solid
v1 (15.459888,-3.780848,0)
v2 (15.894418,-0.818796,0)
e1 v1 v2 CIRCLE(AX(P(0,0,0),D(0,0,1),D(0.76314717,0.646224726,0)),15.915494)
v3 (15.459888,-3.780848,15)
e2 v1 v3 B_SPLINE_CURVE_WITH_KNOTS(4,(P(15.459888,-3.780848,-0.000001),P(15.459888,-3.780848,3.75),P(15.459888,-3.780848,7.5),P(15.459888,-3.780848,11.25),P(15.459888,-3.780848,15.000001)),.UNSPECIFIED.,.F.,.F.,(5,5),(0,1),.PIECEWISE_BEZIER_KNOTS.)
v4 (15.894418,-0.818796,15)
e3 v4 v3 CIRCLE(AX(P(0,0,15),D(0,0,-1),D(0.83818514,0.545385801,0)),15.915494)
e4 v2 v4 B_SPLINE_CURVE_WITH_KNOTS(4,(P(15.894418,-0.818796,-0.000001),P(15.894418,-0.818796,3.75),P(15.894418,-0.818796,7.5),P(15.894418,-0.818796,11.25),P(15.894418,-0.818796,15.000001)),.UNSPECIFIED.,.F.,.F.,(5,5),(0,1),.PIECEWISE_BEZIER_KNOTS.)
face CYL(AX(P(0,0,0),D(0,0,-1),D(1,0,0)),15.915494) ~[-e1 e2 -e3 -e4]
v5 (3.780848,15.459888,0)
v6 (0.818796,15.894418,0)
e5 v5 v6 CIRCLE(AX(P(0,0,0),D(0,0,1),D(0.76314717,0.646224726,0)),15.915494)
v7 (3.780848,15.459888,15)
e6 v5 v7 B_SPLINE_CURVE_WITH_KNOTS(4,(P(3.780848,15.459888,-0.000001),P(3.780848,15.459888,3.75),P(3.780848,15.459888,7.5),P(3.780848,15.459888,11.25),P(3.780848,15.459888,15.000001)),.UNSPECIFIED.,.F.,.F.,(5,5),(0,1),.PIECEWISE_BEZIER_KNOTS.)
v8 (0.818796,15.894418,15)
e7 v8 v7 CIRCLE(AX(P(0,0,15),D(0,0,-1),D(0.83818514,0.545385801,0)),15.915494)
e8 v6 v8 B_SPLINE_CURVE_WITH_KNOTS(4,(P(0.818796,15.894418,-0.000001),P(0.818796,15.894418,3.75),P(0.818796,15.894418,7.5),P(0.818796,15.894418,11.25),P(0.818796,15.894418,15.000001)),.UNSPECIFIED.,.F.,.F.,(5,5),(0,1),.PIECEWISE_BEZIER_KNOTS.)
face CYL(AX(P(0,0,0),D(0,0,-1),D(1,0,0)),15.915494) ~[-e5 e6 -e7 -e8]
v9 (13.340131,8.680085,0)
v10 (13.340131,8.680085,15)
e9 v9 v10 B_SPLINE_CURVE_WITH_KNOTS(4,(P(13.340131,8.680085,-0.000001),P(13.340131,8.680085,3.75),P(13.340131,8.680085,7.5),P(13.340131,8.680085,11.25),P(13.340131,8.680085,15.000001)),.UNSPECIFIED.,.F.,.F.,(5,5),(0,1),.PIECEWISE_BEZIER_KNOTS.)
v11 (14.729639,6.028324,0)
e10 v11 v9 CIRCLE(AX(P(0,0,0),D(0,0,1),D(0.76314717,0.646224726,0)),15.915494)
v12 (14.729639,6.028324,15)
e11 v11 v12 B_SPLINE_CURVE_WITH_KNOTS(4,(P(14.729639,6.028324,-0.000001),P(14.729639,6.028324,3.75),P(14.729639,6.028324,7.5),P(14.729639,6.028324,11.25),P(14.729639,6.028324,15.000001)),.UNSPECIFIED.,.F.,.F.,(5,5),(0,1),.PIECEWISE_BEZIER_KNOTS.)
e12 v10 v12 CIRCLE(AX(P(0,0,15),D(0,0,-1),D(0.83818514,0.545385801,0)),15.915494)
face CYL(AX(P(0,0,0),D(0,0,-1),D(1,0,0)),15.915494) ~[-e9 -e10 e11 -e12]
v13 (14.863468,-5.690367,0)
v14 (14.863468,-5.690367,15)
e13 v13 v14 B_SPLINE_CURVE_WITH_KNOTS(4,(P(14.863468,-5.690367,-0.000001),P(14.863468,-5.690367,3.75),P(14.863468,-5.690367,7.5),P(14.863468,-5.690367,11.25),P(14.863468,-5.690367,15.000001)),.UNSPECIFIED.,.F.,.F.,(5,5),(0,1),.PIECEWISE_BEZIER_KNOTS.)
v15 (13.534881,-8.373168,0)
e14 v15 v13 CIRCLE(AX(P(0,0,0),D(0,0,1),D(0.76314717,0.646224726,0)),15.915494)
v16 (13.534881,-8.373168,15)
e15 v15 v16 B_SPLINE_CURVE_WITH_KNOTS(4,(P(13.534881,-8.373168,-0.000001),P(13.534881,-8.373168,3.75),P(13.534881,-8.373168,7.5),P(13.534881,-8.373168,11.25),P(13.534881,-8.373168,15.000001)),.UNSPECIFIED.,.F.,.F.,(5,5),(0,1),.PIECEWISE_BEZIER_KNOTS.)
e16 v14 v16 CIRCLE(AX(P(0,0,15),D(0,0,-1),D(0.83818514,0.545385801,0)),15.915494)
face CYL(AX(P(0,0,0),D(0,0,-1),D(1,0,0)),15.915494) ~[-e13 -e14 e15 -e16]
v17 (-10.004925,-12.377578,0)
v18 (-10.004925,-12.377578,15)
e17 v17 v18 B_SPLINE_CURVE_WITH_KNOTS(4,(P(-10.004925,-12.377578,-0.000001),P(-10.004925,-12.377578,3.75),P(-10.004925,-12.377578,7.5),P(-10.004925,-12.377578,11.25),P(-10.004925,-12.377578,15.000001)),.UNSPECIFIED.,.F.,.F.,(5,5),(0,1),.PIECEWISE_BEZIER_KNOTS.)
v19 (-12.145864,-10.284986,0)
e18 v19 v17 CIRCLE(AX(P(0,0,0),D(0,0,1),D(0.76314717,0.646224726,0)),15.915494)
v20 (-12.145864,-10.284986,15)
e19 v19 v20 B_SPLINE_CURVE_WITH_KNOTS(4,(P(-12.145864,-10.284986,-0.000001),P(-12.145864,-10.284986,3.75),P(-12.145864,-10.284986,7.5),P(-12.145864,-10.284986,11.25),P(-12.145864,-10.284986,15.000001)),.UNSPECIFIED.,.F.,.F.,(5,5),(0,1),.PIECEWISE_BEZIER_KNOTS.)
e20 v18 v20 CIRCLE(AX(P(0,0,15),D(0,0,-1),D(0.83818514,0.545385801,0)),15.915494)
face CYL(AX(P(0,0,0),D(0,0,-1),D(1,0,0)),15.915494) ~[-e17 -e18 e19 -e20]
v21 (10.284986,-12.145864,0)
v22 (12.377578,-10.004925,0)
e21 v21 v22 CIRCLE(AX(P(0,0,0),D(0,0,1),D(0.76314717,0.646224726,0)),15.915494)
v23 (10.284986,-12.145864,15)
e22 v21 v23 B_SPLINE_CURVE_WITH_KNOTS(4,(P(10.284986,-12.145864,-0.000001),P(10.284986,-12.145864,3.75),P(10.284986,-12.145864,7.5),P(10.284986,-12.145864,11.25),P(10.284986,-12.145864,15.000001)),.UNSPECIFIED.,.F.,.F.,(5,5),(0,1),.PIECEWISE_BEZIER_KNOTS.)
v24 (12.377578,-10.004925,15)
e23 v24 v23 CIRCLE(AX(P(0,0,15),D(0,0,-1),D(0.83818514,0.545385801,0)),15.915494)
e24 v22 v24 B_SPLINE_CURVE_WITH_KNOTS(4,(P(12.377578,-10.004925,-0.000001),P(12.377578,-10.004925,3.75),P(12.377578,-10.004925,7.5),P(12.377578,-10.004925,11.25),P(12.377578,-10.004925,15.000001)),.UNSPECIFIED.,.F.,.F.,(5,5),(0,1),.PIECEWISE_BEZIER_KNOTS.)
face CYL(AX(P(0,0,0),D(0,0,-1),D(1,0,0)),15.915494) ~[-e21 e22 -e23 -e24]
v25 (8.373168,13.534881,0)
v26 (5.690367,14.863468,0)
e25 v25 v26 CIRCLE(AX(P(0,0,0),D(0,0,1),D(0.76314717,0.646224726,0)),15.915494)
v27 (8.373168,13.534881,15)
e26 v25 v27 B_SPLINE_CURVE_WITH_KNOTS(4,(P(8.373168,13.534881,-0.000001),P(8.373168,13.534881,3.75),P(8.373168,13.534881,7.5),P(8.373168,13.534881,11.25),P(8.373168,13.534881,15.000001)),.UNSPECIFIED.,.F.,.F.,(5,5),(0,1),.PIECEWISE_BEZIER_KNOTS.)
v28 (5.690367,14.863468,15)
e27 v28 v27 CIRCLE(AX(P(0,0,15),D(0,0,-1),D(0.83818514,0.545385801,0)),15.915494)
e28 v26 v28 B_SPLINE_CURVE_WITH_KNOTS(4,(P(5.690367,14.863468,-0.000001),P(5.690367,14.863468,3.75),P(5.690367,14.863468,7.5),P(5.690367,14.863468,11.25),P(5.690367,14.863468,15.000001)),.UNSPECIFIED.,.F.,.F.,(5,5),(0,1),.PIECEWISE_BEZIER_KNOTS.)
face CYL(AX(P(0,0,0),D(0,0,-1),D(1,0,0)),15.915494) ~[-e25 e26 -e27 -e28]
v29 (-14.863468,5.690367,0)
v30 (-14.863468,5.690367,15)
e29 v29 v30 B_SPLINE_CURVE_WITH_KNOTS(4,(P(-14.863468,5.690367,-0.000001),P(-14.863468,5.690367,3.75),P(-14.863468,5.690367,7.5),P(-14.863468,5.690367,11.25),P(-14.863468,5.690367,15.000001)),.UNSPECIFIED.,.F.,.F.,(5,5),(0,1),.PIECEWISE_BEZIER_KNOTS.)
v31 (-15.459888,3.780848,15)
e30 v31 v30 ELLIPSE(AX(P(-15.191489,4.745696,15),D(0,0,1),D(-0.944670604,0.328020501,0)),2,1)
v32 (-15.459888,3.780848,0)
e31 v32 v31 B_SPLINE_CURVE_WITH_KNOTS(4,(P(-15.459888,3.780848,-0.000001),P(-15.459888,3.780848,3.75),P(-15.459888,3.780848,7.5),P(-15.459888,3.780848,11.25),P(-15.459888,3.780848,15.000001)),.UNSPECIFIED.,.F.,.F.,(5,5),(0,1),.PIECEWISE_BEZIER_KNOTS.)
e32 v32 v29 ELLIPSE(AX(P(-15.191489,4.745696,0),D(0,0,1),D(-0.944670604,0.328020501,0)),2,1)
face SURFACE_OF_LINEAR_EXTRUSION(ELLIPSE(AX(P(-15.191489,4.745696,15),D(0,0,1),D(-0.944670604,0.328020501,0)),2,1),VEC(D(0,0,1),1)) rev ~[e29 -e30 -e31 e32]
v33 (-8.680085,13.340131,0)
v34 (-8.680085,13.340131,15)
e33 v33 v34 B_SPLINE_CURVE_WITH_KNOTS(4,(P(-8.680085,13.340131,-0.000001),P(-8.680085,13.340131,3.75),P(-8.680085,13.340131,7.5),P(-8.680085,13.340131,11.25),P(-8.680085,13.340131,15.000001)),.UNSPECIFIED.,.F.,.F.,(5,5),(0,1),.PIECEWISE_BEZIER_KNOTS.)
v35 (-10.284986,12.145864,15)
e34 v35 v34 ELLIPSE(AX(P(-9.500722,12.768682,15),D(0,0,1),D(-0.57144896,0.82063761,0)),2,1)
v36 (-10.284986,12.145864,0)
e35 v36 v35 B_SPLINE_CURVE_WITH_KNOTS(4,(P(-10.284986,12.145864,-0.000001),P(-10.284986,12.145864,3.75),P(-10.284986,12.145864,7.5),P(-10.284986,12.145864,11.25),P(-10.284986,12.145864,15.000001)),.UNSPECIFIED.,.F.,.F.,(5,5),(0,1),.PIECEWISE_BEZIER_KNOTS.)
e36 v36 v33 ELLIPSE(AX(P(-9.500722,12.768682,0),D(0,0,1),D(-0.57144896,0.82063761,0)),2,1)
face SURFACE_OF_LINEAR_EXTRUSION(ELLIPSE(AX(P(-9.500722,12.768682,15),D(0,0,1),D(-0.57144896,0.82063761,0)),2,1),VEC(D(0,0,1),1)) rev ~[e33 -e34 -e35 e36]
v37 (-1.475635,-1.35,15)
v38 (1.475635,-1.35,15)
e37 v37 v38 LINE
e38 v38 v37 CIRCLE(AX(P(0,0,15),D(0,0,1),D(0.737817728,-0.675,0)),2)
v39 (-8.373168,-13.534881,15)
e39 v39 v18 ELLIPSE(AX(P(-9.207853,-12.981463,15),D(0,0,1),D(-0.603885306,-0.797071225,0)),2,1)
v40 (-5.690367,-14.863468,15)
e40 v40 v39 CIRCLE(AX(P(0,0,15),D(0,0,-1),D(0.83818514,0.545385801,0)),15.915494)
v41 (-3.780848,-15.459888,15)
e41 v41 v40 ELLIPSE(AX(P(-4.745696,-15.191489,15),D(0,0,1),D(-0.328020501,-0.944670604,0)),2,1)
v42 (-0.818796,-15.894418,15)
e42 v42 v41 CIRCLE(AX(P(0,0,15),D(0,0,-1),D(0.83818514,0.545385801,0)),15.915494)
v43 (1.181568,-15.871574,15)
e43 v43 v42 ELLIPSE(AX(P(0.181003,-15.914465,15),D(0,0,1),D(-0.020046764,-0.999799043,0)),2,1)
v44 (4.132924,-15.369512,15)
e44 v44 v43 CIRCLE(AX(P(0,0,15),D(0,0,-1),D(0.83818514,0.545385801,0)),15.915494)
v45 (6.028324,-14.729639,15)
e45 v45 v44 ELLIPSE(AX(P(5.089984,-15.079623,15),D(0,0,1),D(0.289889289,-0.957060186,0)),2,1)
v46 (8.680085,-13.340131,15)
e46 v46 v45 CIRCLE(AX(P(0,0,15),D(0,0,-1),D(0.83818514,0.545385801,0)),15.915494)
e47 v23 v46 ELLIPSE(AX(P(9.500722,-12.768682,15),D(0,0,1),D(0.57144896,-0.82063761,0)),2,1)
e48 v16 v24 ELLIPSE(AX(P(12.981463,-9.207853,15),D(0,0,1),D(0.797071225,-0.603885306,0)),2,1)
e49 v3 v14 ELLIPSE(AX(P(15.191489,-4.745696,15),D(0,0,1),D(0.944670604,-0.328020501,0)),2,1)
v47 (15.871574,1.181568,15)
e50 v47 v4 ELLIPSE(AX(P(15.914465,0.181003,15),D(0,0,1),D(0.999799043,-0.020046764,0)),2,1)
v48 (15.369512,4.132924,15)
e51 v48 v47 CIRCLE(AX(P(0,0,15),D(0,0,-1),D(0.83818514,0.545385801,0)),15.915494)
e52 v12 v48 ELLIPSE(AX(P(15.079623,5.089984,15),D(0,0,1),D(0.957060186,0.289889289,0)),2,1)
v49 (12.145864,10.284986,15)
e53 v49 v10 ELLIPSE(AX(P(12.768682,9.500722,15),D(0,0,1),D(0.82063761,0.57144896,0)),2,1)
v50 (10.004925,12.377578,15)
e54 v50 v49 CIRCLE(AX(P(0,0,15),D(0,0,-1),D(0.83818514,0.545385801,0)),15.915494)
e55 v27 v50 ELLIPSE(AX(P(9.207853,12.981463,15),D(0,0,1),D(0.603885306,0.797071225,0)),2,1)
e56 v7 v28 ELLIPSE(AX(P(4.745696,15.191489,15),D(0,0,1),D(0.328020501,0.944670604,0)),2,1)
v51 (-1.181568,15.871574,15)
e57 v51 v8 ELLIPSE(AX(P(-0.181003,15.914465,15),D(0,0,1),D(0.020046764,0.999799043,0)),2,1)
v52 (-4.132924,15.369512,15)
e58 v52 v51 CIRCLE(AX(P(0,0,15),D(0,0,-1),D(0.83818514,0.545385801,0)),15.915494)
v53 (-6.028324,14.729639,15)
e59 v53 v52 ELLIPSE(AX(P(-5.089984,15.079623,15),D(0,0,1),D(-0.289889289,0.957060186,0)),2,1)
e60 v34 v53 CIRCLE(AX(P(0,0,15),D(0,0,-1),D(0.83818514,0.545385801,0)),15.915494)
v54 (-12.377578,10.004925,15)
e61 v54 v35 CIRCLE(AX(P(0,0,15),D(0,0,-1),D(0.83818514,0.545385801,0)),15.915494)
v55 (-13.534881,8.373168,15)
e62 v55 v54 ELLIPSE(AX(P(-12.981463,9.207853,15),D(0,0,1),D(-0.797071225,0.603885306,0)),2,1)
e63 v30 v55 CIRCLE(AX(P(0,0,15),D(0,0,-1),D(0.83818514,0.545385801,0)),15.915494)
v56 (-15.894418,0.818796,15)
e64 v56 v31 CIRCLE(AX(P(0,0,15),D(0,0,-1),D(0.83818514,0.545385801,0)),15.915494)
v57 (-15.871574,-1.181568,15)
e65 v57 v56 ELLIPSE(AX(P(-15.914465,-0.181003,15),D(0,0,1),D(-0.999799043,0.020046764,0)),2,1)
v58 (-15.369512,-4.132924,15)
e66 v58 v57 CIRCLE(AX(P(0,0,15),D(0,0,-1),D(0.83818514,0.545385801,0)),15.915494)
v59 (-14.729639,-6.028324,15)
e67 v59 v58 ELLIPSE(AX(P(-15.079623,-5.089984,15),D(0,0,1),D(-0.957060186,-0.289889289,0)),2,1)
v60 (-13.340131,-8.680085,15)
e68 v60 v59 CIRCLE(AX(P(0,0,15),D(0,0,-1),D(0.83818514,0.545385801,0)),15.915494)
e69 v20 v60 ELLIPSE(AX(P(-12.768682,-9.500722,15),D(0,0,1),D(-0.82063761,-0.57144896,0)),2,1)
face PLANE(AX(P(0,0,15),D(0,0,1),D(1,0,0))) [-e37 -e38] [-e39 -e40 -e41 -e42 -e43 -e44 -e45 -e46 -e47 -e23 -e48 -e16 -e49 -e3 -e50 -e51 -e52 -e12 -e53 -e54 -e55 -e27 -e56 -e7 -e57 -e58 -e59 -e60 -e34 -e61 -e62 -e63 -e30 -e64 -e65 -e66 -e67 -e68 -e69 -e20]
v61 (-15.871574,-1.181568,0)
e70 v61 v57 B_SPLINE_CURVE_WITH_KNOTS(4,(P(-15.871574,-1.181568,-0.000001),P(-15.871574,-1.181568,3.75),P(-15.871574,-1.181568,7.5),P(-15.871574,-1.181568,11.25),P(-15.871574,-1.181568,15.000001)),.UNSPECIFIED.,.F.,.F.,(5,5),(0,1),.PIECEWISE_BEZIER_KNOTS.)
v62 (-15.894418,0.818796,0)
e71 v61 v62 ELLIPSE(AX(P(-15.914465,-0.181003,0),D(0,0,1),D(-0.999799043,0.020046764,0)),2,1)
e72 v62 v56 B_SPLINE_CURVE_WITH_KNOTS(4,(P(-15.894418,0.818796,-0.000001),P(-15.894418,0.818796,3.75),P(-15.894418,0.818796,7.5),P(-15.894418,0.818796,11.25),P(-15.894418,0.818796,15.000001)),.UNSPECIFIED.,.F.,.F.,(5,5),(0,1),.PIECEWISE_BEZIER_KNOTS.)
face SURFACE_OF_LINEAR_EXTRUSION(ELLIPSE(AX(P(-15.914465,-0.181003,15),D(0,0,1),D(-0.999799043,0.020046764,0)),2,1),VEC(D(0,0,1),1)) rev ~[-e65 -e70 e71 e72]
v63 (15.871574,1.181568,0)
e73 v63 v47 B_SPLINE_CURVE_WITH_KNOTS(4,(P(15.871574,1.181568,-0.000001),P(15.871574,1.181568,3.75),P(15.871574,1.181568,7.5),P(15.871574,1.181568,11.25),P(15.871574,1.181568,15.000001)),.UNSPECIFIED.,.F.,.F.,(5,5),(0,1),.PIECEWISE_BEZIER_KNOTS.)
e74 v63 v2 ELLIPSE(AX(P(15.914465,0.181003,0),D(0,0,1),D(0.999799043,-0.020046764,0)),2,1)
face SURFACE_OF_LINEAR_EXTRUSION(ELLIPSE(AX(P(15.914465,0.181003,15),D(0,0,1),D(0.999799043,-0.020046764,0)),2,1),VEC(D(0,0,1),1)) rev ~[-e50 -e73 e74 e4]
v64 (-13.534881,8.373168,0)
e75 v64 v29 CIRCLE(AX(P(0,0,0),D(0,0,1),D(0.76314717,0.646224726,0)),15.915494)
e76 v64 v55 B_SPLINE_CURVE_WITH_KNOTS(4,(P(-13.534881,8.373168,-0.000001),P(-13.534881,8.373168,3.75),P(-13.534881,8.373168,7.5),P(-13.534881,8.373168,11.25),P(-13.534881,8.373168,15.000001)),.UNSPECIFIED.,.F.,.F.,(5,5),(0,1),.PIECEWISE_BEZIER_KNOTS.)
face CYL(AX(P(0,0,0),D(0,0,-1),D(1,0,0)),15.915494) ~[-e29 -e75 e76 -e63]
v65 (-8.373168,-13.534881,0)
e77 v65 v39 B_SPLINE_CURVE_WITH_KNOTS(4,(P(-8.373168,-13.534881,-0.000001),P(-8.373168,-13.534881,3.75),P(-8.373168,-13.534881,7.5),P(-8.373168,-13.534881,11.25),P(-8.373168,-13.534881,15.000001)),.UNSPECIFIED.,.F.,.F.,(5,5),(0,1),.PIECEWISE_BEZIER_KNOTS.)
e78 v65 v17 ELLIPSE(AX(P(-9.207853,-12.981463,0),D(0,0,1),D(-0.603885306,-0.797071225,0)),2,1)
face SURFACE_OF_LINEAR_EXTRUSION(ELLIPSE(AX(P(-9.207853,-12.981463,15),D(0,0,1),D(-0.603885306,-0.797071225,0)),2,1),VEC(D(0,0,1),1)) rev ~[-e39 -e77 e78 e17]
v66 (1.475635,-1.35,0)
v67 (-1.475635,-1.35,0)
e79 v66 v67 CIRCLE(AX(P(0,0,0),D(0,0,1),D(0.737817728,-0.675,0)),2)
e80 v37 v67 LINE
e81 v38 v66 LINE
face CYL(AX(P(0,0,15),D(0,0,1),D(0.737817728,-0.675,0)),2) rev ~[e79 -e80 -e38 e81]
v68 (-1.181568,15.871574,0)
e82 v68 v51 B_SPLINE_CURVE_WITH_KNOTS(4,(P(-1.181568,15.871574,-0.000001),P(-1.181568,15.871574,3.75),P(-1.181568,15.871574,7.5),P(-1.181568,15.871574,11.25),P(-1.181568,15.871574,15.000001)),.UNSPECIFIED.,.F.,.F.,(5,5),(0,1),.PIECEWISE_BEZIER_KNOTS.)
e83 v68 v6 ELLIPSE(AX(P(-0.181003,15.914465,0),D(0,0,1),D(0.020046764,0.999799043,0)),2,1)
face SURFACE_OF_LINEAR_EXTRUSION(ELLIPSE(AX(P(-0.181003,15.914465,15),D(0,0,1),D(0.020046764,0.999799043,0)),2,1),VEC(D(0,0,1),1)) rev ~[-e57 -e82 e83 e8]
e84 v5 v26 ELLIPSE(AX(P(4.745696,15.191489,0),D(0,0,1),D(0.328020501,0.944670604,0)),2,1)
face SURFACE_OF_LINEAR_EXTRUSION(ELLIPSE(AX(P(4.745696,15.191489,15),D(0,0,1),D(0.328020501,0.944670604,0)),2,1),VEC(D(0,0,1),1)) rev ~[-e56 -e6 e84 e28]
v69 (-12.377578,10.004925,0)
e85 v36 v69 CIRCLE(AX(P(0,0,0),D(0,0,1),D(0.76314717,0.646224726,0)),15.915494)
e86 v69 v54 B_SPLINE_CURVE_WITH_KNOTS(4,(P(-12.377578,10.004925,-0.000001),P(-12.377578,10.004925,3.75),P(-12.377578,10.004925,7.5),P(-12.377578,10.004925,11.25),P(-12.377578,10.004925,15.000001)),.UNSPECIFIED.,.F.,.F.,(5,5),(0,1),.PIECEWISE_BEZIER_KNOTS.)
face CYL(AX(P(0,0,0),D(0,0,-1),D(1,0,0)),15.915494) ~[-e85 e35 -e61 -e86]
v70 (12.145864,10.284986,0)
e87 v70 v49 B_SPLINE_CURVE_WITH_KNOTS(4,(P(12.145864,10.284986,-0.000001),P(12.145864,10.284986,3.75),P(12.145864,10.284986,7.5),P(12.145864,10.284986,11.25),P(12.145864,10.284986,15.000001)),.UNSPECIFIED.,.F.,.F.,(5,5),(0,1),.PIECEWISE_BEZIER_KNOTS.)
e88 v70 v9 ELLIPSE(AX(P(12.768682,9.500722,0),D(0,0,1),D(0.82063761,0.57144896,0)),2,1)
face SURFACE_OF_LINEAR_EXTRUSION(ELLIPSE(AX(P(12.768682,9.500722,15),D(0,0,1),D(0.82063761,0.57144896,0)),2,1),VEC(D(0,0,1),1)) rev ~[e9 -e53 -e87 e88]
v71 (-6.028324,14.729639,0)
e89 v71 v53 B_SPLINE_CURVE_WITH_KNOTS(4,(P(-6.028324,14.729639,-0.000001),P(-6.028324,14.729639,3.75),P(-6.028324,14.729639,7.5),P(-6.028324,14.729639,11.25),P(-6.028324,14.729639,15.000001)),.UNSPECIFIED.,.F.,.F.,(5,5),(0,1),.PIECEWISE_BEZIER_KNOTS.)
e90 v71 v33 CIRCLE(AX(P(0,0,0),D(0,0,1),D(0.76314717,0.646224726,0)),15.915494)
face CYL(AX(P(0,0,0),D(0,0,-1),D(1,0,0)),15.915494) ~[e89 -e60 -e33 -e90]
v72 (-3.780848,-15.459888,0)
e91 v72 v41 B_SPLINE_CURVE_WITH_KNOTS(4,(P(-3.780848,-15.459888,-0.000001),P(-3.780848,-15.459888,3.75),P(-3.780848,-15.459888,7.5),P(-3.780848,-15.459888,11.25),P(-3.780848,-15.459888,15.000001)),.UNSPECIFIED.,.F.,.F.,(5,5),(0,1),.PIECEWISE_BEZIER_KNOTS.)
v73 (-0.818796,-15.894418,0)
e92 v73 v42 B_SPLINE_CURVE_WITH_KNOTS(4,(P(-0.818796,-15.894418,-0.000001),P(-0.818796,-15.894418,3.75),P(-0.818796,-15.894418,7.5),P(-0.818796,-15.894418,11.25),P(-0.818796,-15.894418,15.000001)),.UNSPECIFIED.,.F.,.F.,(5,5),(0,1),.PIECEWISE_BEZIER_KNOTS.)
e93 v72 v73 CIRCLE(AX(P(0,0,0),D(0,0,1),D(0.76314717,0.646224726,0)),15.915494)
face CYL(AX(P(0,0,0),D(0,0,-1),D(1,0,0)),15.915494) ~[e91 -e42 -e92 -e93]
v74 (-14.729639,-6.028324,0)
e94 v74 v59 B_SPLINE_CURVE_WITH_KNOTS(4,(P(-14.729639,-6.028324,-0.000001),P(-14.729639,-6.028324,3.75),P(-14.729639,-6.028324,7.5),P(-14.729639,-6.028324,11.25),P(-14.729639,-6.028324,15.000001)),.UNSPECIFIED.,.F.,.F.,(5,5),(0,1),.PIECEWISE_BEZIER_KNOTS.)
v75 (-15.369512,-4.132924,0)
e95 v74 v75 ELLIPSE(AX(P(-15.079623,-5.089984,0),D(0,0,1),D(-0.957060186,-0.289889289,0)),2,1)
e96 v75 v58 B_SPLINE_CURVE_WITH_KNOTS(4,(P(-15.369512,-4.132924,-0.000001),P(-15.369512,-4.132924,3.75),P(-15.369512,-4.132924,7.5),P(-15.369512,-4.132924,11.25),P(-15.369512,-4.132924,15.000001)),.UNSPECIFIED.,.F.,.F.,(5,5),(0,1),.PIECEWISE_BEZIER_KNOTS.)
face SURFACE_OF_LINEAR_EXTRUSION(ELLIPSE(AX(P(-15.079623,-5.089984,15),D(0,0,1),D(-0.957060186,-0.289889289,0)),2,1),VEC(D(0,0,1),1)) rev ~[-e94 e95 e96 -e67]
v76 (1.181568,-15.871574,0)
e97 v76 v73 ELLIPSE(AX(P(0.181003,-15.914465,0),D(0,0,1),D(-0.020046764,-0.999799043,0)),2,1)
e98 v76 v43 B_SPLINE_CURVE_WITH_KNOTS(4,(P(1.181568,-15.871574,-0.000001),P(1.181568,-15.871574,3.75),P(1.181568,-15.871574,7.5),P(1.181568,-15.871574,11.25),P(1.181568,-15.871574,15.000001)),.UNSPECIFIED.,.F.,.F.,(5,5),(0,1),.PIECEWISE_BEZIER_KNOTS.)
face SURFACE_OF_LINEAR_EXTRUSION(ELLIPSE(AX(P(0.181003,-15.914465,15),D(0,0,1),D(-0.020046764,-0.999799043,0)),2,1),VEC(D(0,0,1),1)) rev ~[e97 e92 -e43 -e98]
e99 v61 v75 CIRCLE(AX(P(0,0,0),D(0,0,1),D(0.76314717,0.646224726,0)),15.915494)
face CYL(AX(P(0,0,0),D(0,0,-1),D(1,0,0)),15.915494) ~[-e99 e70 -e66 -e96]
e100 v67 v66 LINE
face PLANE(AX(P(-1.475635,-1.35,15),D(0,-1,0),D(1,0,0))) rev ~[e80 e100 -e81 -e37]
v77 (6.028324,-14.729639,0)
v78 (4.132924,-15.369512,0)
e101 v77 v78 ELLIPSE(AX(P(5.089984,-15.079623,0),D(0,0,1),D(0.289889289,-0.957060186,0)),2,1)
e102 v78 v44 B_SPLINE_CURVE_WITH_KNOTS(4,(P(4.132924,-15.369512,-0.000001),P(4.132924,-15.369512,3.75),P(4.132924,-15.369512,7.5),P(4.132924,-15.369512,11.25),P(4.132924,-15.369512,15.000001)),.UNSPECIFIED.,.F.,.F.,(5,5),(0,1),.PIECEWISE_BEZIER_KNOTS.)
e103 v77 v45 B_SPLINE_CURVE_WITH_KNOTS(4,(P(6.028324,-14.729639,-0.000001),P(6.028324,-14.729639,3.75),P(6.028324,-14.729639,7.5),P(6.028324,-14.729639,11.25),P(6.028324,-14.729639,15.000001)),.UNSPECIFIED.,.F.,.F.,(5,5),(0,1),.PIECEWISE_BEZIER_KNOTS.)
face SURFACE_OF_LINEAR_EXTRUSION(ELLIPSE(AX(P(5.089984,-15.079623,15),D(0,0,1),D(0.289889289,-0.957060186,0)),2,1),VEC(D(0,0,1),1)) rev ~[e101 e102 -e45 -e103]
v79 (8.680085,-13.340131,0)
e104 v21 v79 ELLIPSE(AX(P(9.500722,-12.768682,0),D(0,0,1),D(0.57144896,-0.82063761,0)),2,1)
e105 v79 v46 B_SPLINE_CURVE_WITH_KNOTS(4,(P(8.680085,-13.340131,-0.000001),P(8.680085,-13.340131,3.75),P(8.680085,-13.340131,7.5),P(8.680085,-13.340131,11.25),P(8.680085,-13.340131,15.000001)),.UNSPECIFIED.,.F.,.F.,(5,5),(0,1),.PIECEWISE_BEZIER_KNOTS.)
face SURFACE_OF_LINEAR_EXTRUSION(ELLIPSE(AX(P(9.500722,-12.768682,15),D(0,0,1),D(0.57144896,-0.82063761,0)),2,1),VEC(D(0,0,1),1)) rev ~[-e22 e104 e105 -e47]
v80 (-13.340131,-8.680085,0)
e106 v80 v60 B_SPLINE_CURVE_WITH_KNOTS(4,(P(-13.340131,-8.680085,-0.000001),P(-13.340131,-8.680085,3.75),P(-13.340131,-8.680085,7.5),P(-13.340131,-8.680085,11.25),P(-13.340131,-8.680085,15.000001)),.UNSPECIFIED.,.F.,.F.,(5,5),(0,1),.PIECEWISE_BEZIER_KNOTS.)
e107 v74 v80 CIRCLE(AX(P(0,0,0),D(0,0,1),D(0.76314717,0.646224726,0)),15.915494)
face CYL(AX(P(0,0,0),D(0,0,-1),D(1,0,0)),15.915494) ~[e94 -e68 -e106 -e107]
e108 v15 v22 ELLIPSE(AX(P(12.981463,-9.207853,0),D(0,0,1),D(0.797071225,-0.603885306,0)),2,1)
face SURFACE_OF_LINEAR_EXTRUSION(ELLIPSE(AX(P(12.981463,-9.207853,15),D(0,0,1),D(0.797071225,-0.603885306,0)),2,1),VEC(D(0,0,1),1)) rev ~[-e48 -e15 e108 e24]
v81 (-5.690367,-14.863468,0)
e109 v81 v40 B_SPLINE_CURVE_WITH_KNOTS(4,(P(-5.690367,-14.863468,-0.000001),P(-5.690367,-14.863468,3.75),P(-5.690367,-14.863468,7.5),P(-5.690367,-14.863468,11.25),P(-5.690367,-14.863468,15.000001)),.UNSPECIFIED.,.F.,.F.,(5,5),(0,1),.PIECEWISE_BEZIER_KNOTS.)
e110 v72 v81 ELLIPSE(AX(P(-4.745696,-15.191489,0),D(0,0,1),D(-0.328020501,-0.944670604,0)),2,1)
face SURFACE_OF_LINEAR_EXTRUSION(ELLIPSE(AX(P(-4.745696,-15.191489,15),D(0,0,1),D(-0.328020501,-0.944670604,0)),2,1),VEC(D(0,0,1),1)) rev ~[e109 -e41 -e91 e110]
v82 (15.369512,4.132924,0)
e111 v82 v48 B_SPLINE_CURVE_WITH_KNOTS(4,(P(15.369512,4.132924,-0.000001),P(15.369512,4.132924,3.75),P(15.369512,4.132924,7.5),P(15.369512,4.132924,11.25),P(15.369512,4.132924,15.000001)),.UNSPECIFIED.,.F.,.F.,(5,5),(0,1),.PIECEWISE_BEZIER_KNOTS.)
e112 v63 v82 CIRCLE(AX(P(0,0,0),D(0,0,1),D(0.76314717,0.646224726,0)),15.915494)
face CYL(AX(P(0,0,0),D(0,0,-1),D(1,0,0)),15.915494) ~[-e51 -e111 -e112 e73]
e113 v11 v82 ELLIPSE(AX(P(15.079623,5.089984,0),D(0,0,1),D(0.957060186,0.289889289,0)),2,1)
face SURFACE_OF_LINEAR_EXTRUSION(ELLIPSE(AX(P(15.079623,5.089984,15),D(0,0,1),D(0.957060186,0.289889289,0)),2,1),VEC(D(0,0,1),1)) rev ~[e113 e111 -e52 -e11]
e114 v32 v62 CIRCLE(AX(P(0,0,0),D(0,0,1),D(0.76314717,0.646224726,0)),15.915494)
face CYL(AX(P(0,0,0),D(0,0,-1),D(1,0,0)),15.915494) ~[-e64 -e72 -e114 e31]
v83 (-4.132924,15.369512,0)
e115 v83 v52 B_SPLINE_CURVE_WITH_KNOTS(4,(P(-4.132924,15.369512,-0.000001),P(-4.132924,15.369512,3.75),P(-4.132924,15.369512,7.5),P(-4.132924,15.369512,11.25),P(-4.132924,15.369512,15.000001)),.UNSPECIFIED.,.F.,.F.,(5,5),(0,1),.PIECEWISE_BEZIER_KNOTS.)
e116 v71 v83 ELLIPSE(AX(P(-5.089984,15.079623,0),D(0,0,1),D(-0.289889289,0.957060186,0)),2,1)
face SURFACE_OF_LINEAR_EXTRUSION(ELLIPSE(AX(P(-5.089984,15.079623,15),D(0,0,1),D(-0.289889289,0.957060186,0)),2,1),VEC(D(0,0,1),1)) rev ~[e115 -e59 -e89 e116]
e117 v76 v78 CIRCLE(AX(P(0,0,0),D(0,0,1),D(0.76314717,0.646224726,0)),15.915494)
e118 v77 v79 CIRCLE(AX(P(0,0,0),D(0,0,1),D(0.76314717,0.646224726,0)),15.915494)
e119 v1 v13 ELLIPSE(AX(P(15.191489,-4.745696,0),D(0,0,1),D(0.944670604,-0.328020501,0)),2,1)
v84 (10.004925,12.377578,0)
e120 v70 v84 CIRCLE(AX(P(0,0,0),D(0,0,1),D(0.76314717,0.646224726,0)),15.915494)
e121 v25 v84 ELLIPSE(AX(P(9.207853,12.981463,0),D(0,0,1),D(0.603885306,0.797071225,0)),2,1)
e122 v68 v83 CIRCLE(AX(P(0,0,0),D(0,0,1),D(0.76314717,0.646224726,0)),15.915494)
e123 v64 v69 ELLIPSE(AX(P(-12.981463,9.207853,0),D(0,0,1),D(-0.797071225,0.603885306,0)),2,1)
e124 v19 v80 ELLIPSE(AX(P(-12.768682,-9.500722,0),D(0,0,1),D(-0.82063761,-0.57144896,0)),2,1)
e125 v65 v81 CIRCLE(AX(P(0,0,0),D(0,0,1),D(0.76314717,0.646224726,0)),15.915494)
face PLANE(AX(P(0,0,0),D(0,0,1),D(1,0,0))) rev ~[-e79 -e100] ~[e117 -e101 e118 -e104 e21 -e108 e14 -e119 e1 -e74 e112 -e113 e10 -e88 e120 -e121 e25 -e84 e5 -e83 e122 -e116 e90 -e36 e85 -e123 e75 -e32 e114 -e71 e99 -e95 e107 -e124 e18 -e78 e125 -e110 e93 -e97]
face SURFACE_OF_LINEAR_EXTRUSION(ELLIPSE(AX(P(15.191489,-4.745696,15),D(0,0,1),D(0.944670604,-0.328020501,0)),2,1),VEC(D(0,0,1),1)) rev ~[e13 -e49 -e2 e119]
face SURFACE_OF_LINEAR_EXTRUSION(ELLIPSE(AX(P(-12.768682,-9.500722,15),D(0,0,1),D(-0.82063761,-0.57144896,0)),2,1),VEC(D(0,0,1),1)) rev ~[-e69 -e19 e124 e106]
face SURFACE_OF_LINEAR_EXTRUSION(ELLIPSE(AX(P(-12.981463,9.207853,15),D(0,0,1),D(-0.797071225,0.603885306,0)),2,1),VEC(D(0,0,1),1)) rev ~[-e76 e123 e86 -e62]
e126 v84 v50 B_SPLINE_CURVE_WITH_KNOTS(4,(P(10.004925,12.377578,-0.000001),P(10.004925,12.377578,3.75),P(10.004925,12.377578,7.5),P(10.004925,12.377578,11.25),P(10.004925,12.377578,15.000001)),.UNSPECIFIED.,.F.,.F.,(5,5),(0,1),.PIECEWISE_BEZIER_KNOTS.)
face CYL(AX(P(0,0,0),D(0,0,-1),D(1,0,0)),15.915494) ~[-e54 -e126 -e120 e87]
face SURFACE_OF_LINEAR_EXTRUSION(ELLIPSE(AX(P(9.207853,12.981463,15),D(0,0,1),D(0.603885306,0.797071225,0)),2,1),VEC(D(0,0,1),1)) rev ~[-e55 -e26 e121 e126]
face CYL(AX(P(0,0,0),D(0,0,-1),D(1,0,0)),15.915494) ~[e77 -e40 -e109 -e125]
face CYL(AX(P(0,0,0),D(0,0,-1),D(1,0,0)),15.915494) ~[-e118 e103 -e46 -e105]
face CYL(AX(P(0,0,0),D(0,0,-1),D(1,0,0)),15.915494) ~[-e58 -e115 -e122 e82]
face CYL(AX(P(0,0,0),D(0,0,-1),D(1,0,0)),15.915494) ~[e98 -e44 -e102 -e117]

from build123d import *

# Parameters (mm, degrees)
SKETCH_1_R               = 15.91549431
EXTRUDE_1_DEPTH          = 15
CUT_EXTRUDE_1_DEPTH      = 15
SKETCH_3_RX              = 2
SKETCH_3_RY              = 1
CUT_EXTRUDE_2_DEPTH      = 15
PATTERN_CIRCULAR_1_COUNT = 20


with BuildPart() as part:
    # Эскиз1 → Бобышка-Вытянуть1 (new body)
    with BuildSketch(Plane.XY):
        Circle(SKETCH_1_R)
    extrude(amount=EXTRUDE_1_DEPTH)

    # Эскиз2 → Вырез-Вытянуть1 (cut)
    with BuildSketch(Plane.XY.offset(15)):
        with BuildLine():
            Line((-1.475635456, -1.35), (1.475635456, -1.35))
            ThreePointArc((1.475635456, -1.35), (0, 2), (-1.475635456, -1.35))
        make_face()
    extrude(amount=-CUT_EXTRUDE_1_DEPTH, mode=Mode.SUBTRACT)

    # Эскиз3 → Вырез-Вытянуть2 (cut)
    with BuildSketch(Plane.XY.offset(15)):
        with Locations(Location((12.768681862, 9.500722217), (0, 0, 34.851328061))):
            Ellipse(SKETCH_3_RX, SKETCH_3_RY)
    cut_extrude_2 = extrude(amount=-CUT_EXTRUDE_2_DEPTH, mode=Mode.SUBTRACT)

    # Круговой массив1: Вырез-Вытянуть2 ×20 about axis
    pattern_circular_1_axis = Axis((0, 0, 15), (0, 0, 1))
    for i in range(1, PATTERN_CIRCULAR_1_COUNT):
        add(cut_extrude_2.rotate(pattern_circular_1_axis, i * 360 / PATTERN_CIRCULAR_1_COUNT), mode=Mode.SUBTRACT)


solid = part.part
